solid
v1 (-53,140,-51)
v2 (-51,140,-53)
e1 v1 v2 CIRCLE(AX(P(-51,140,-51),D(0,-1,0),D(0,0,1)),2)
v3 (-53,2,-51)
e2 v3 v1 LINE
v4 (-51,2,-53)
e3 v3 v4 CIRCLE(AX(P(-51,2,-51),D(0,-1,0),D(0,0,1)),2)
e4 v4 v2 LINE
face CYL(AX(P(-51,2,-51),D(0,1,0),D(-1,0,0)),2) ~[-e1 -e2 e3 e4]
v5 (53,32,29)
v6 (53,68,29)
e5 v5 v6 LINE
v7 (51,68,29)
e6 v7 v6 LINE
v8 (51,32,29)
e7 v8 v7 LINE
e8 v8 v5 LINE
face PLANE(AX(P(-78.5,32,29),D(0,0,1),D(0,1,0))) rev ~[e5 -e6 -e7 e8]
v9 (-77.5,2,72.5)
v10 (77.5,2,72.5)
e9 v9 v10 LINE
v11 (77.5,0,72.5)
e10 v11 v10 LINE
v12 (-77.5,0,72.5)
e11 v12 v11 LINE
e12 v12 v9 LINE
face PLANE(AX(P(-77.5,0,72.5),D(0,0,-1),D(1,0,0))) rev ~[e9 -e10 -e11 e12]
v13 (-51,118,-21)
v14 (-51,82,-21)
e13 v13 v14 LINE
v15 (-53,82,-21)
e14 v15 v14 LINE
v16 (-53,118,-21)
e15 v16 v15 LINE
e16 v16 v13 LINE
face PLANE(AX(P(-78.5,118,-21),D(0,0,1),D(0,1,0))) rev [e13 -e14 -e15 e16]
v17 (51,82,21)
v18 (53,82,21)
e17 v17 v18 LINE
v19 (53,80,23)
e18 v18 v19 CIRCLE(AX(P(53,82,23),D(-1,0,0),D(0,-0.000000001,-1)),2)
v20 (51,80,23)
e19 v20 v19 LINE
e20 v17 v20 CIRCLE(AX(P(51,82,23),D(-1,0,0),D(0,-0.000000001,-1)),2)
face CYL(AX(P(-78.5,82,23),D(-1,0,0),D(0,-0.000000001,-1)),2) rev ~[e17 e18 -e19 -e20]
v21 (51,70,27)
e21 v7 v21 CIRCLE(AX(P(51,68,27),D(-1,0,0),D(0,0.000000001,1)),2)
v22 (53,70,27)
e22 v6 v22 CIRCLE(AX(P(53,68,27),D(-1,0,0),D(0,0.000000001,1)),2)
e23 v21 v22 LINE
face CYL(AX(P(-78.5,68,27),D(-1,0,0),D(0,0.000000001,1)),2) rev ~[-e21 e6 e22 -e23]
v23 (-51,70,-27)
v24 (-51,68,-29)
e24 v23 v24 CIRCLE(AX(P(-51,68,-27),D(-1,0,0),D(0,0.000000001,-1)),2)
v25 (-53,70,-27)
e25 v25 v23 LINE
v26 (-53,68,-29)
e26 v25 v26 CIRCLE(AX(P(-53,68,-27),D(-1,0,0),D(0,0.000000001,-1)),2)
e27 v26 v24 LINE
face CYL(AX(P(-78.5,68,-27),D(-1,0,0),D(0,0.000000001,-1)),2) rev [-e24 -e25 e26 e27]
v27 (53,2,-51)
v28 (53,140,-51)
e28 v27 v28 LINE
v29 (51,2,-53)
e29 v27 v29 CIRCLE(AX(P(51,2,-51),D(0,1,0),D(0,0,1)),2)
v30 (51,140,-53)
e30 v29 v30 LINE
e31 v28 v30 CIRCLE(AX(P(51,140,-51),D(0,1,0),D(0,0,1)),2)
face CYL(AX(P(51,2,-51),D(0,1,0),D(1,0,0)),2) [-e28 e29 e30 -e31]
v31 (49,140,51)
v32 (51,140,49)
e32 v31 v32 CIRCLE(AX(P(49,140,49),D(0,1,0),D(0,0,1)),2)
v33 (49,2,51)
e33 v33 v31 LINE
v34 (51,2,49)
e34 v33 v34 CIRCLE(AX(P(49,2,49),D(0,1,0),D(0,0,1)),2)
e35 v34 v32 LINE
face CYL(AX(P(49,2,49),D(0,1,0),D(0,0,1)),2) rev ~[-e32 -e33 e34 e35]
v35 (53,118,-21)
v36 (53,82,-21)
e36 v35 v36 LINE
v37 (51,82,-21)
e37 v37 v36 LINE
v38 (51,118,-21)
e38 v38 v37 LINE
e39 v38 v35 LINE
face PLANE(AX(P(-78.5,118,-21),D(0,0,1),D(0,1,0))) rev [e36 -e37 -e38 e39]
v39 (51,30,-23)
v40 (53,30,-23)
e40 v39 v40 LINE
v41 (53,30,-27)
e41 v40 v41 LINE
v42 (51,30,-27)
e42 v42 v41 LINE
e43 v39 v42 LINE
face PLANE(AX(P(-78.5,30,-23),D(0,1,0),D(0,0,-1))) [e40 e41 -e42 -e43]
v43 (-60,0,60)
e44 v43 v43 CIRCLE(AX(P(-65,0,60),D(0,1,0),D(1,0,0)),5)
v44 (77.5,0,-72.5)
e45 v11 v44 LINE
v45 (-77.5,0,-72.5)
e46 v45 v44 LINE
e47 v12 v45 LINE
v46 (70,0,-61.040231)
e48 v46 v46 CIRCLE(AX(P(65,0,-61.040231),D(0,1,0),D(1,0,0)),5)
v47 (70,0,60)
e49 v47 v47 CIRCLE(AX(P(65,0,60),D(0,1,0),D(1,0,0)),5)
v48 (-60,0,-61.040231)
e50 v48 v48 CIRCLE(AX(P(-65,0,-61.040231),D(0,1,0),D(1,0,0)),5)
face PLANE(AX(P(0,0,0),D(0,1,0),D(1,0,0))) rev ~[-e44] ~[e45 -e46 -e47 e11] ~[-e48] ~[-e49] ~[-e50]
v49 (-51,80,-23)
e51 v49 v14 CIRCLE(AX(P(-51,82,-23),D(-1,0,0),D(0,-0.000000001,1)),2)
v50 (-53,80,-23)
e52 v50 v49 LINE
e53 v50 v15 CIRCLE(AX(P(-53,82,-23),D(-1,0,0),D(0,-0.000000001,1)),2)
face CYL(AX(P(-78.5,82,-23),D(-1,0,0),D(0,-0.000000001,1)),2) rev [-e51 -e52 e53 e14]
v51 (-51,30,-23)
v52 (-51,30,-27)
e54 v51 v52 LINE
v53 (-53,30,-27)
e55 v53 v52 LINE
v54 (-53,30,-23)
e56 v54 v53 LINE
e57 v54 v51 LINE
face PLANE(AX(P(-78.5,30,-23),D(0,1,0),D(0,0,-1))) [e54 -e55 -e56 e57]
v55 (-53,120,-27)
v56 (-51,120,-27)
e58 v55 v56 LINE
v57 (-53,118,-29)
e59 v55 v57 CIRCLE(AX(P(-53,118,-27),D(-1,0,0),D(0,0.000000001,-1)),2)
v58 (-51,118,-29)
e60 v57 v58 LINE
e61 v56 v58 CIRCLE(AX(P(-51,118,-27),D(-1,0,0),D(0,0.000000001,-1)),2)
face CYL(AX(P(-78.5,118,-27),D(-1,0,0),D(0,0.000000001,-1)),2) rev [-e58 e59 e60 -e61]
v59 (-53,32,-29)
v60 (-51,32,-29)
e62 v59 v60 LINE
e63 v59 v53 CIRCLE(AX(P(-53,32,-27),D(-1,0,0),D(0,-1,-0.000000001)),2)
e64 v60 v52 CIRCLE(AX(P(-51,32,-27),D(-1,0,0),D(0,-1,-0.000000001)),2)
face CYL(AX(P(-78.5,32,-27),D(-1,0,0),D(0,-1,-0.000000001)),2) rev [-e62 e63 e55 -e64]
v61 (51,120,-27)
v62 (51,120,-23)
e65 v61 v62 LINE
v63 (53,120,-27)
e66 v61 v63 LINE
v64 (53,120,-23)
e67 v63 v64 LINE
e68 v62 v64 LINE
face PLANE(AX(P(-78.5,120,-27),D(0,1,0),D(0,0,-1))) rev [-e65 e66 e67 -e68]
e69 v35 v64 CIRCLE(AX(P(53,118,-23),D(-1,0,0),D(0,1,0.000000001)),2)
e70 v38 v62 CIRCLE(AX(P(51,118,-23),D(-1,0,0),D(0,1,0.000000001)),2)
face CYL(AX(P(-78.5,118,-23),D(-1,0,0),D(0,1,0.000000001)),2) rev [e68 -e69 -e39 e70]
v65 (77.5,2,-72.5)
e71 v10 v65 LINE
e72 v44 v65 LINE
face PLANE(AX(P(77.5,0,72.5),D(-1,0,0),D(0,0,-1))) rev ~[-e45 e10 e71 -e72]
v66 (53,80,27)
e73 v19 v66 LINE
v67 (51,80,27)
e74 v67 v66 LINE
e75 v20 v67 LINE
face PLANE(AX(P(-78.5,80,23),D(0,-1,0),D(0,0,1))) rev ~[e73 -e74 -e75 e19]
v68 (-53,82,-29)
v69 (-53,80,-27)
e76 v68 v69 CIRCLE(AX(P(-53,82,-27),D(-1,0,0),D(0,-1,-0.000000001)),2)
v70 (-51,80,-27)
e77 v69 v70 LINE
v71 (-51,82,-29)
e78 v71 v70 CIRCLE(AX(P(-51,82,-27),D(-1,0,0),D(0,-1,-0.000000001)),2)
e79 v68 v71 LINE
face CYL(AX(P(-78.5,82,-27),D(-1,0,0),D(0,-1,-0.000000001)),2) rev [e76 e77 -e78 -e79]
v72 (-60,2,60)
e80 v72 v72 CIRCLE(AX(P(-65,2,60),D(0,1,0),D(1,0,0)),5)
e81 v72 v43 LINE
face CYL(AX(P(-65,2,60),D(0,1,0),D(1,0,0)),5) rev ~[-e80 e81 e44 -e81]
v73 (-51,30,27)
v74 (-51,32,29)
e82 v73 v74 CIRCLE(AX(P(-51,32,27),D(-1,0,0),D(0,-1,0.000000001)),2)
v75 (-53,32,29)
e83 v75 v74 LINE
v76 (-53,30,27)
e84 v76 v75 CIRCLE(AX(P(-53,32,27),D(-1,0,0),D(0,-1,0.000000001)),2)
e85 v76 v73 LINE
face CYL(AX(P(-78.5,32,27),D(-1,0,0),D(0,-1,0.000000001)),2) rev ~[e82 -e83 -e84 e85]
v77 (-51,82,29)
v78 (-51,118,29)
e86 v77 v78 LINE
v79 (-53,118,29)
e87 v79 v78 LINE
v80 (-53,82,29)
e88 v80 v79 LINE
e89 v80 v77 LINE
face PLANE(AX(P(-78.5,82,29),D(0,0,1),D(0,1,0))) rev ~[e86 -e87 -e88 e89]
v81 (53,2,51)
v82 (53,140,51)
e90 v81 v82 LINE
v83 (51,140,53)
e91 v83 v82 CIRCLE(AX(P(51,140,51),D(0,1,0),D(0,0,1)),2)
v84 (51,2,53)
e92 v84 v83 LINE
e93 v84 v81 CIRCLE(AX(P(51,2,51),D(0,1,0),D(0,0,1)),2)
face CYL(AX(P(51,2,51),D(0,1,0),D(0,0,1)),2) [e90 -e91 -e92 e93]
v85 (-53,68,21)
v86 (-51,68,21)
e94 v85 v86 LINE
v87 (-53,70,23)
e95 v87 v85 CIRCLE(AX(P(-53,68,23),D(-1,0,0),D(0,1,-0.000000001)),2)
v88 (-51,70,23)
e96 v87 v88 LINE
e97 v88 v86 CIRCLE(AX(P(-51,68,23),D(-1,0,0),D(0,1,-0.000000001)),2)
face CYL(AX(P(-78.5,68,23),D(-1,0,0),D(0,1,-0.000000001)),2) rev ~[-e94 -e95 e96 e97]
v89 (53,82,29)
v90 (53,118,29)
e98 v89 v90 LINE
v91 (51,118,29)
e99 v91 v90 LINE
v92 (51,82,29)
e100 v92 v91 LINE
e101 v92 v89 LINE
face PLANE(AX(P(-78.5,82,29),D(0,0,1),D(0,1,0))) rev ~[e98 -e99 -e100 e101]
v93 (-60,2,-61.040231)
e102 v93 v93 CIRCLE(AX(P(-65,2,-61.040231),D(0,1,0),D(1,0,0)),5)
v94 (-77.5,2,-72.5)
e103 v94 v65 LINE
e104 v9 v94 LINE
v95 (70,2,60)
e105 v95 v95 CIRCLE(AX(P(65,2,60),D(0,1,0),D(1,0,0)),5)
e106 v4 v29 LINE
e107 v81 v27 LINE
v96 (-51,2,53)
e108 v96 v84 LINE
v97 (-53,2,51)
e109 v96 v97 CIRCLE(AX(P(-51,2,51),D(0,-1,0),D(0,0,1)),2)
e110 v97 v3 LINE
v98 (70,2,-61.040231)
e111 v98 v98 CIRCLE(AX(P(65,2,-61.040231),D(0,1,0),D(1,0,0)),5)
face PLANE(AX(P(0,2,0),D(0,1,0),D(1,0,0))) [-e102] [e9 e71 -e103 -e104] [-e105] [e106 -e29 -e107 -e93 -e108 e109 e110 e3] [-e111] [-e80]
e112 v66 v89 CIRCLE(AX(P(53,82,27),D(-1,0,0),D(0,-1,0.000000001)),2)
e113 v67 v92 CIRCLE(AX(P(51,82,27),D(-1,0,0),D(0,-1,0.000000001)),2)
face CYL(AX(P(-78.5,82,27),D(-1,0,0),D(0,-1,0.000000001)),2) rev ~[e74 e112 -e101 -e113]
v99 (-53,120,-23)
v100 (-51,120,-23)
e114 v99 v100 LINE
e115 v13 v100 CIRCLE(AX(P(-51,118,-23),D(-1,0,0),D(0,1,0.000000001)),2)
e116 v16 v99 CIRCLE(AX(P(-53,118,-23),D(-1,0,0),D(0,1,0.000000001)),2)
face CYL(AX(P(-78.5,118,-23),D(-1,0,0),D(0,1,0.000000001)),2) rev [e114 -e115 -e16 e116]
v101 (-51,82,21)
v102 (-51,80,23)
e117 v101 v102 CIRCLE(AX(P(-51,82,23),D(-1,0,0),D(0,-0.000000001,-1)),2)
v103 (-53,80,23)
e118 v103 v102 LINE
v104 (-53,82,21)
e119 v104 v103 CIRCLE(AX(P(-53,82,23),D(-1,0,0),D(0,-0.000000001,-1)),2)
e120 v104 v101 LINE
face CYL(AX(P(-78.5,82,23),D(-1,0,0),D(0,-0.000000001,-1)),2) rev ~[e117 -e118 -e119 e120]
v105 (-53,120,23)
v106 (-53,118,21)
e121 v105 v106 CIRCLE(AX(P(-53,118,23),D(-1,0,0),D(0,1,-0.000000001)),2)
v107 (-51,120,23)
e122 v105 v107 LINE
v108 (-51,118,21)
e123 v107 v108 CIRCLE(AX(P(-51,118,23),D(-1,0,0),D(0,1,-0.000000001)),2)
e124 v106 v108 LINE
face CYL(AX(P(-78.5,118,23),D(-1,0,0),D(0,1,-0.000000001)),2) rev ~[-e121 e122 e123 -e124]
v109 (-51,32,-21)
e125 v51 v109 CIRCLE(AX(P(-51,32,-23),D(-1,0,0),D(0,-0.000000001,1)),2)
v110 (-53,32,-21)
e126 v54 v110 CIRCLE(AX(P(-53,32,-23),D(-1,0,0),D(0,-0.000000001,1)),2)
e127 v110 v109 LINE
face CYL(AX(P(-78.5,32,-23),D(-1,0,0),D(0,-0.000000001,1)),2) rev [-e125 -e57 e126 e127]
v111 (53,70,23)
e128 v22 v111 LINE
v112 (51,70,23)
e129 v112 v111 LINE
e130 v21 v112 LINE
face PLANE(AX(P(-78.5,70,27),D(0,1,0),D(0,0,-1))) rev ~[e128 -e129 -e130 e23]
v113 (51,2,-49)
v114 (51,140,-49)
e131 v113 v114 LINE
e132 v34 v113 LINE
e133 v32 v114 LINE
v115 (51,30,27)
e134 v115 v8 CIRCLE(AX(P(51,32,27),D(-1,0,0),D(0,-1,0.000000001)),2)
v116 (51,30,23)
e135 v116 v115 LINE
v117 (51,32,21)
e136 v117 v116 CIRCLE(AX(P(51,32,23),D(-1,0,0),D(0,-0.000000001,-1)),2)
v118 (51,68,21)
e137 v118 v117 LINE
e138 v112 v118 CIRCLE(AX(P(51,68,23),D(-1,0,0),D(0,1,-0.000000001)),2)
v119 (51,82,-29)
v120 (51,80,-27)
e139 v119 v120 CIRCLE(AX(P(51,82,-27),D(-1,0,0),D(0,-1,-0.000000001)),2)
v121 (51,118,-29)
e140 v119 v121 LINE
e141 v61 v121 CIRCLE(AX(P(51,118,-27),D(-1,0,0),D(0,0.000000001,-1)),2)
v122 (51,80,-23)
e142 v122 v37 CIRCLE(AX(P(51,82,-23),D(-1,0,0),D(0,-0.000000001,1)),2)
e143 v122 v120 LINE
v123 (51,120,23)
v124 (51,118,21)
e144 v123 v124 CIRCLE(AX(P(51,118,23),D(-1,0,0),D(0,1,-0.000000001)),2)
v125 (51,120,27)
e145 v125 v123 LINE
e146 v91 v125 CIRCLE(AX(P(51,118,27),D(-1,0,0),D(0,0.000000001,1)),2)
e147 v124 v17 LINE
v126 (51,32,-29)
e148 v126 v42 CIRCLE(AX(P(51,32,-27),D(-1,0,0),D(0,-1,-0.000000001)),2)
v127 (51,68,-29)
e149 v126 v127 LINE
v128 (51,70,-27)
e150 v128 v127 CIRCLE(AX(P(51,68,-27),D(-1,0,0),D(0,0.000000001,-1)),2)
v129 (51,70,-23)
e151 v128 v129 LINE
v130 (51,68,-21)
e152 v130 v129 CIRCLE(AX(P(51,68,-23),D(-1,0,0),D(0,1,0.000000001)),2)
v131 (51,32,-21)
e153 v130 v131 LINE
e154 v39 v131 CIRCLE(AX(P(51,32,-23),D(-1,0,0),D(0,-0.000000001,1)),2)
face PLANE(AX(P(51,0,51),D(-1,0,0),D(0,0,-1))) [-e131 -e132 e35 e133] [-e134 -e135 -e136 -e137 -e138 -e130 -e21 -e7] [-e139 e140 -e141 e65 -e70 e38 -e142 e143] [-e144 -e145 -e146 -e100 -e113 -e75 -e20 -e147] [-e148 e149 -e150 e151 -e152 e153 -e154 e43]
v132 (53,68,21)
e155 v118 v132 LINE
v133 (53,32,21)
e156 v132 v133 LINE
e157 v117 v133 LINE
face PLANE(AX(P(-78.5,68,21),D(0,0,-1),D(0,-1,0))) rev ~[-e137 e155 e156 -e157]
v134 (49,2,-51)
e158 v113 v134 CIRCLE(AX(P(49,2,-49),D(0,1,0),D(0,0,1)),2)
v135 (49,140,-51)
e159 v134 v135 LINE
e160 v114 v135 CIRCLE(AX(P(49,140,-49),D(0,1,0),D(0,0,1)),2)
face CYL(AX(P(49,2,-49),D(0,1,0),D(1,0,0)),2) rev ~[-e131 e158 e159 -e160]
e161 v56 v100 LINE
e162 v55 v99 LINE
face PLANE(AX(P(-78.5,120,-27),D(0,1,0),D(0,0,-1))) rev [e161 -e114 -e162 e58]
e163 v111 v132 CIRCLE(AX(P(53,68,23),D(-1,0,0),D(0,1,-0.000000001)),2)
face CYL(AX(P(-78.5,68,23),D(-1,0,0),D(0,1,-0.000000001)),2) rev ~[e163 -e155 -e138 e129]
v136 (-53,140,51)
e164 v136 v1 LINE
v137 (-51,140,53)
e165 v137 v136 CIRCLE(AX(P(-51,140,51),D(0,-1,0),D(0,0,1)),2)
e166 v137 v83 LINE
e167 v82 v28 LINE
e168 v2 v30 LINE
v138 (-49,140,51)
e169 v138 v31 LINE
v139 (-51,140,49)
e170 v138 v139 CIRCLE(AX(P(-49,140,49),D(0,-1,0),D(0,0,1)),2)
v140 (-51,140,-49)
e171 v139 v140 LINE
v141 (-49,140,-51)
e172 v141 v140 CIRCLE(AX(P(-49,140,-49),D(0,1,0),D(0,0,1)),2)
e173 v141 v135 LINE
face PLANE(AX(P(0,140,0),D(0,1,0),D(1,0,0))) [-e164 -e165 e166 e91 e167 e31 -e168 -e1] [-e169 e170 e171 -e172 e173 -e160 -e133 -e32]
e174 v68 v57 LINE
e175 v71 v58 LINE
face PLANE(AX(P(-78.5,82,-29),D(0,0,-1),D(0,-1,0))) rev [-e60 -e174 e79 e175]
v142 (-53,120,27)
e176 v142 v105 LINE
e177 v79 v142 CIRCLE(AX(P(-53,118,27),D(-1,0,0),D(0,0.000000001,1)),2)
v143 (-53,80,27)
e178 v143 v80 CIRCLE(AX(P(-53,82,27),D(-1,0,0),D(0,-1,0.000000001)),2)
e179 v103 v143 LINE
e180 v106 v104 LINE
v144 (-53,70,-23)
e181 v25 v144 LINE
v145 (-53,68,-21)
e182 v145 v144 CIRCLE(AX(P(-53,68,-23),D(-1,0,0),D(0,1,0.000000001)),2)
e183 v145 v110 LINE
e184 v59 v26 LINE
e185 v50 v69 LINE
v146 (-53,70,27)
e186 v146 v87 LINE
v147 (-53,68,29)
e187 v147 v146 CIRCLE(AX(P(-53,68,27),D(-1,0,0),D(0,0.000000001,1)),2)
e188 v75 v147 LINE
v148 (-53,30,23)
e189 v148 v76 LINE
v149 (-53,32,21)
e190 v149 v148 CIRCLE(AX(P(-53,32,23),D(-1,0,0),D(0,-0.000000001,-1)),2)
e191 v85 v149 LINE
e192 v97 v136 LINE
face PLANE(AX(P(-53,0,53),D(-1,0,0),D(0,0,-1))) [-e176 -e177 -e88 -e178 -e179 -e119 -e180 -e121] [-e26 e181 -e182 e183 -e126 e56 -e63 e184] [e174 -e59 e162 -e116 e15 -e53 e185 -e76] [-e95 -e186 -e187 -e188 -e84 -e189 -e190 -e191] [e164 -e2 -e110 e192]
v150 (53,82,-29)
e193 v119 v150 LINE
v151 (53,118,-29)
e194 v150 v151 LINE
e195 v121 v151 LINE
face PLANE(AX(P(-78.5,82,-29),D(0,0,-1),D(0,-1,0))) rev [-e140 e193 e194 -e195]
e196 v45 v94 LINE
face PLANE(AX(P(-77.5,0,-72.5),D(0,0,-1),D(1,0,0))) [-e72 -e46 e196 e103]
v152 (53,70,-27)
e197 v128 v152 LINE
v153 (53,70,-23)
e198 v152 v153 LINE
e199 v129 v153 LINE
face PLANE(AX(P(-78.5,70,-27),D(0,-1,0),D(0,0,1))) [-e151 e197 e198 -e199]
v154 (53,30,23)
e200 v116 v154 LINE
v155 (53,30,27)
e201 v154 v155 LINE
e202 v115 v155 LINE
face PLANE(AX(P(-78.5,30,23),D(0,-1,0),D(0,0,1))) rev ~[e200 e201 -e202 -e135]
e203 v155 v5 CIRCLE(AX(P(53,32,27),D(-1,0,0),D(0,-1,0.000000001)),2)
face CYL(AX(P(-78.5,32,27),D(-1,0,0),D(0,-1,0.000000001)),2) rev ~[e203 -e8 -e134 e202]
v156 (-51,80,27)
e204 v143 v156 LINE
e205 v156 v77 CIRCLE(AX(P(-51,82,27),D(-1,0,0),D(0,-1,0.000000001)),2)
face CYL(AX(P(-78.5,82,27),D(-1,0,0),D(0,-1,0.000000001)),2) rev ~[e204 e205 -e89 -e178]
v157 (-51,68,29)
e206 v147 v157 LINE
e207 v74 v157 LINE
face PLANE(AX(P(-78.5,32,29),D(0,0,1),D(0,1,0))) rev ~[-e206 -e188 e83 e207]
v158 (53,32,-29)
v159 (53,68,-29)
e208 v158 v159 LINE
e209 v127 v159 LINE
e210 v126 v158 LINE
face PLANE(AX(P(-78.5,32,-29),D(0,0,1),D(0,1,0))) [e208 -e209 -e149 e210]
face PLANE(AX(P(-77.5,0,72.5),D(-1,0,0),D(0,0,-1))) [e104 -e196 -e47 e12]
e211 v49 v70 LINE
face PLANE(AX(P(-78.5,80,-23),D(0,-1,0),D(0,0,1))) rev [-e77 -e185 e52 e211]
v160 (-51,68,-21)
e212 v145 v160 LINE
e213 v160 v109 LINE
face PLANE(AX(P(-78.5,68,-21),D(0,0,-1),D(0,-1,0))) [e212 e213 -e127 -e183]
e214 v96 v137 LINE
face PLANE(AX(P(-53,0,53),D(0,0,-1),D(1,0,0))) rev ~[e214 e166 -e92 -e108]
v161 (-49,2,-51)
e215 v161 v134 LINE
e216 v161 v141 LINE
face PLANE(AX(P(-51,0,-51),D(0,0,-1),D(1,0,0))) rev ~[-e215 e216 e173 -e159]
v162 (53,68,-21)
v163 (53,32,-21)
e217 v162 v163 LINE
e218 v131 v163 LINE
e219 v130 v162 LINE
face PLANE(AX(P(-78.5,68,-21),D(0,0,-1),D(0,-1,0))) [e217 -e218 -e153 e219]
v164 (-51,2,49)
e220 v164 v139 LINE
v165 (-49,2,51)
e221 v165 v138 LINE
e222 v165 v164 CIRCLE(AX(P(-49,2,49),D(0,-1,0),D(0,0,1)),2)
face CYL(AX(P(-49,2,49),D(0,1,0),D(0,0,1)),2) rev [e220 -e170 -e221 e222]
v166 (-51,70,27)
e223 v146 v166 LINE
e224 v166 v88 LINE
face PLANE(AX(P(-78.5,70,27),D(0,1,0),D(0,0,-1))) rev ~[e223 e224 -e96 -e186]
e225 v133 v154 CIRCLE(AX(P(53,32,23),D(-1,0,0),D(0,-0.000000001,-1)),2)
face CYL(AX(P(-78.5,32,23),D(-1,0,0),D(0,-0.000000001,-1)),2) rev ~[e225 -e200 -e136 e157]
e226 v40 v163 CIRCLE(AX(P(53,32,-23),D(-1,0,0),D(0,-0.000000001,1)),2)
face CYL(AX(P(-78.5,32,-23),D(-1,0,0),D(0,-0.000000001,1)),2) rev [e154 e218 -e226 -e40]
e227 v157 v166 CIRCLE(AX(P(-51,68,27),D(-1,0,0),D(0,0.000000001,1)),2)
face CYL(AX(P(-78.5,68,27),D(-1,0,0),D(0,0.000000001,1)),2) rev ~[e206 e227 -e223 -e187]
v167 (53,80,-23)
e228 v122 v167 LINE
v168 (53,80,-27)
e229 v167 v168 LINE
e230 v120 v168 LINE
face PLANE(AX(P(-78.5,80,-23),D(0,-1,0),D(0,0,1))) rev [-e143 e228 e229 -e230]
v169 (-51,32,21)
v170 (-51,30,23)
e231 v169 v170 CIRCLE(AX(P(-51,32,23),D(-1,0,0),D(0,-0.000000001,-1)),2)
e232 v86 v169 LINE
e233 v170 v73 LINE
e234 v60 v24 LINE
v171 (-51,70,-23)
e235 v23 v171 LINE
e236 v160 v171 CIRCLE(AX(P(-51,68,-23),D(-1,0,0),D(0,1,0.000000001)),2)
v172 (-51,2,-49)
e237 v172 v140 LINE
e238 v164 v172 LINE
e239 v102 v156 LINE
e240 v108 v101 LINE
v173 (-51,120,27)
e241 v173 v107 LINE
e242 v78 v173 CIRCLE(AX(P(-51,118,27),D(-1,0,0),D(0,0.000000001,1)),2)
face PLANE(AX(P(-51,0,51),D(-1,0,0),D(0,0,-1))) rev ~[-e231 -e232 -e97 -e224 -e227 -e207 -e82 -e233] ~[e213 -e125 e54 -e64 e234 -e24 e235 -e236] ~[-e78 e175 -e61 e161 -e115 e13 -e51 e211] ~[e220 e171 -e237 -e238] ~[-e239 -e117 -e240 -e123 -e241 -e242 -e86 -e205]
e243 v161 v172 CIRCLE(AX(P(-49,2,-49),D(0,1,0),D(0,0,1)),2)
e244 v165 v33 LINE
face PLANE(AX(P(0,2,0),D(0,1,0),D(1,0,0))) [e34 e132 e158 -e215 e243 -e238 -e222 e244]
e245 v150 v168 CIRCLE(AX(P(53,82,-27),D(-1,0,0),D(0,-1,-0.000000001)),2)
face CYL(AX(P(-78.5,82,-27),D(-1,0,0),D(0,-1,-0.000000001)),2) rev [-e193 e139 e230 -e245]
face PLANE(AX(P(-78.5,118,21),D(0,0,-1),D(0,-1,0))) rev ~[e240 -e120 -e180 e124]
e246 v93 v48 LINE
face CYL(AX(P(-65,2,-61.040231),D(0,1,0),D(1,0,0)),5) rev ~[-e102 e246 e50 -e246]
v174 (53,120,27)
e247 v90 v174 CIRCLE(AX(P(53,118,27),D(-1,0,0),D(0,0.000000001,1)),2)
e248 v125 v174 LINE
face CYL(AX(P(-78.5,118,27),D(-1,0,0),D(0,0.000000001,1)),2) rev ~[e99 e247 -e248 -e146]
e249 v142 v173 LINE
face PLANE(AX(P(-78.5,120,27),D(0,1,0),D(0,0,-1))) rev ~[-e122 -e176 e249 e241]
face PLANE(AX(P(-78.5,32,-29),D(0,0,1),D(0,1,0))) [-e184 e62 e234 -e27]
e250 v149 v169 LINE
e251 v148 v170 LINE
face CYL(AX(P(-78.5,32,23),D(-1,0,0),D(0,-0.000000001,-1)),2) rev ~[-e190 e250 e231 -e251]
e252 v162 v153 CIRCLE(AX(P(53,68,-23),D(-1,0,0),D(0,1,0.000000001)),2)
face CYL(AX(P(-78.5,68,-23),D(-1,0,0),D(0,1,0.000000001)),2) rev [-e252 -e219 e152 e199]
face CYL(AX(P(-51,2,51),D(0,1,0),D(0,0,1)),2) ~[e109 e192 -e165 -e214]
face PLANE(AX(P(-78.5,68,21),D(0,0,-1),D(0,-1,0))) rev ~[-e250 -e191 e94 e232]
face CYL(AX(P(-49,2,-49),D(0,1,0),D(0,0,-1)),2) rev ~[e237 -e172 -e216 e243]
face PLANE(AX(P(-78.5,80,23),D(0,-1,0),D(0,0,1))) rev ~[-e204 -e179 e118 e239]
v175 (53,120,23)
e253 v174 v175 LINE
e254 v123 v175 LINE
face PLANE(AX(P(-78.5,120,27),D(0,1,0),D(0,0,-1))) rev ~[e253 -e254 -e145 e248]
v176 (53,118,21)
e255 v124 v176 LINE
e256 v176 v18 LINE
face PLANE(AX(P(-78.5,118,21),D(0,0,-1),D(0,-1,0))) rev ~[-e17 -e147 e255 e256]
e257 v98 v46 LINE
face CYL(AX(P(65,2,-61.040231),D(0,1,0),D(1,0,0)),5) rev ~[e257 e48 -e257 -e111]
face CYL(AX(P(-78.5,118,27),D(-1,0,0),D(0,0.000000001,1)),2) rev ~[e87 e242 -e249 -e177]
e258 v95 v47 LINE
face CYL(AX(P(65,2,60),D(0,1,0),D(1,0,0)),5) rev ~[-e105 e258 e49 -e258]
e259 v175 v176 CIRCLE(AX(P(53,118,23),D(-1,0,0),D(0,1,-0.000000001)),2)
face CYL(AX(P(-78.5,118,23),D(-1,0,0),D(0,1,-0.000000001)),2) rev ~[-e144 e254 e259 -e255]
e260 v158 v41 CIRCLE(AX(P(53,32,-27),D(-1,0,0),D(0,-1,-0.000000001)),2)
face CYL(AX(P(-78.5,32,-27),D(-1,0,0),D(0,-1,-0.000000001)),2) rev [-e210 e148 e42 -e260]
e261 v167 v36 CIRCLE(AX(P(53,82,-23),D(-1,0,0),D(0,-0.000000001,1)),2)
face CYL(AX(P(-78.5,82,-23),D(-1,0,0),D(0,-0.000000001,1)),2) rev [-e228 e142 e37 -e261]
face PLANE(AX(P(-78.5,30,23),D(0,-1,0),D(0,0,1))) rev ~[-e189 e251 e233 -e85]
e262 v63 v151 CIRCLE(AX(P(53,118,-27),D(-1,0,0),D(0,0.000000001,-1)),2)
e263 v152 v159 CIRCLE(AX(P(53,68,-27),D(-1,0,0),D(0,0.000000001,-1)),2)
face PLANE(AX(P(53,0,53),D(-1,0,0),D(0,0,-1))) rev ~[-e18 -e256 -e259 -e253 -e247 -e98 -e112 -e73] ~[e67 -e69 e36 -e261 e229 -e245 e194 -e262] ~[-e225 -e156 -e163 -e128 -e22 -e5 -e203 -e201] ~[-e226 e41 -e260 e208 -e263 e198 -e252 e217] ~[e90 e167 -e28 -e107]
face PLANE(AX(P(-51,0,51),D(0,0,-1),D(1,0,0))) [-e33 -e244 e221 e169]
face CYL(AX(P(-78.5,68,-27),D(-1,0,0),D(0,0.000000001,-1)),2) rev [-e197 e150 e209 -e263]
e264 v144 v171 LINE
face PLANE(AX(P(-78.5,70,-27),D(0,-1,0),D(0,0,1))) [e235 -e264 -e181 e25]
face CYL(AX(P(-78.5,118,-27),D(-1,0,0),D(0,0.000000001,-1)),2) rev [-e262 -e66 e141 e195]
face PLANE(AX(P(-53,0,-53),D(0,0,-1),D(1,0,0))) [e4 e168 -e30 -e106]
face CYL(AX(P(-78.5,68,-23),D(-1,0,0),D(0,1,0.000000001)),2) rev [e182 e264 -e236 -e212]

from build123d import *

# Parameters (mm, degrees)
SKETCH1_W              = 106
SKETCH1_H              = 106
SKETCH1_W_2            = 102
SKETCH1_H_2            = 102
BOSS_EXTRUDE1_DEPTH    = 140
SKETCH2_W              = 155
SKETCH2_H              = 145
BOSS_EXTRUDE2_DEPTH    = 2
SKETCH3_R              = 5
CUT_EXTRUDE1_DEPTH     = 2
CUT_EXTRUDE2_START     = -131.5
CUT_EXTRUDE2_DEPTH     = 157
LPATTERN1_COUNT        = 2
LPATTERN1_PITCH        = 50
LPATTERN1_START        = -131.5
LPATTERN1_COPY_1_DEPTH = 157
FILLET1_R              = 2


with BuildPart() as part:
    # Sketch1 → Boss-Extrude1 (new body)
    with BuildSketch(Plane(origin=(0, 0, 0), x_dir=(1, 0, 0), z_dir=(0, 1, 0))):
        Rectangle(SKETCH1_W, SKETCH1_H)
        Rectangle(SKETCH1_W_2, SKETCH1_H_2, mode=Mode.SUBTRACT)
    extrude(amount=BOSS_EXTRUDE1_DEPTH)

    # Sketch2 → Boss-Extrude2 (add)
    with BuildSketch(Plane(origin=(0, 0, 0), x_dir=(1, 0, 0), z_dir=(0, 1, 0))):
        Rectangle(SKETCH2_W, SKETCH2_H)
    extrude(amount=BOSS_EXTRUDE2_DEPTH)

    # Sketch3 → Cut-Extrude1 (cut)
    with BuildSketch(Plane(origin=(0, 2, 0), x_dir=(1, 0, 0), z_dir=(0, 1, 0))):
        with Locations((-65, 61.040230774)):
            Circle(SKETCH3_R)
        with Locations((65, 61.040230774)):
            Circle(SKETCH3_R)
        with Locations((65, -60)):
            Circle(SKETCH3_R)
        with Locations((-65, -60)):
            Circle(SKETCH3_R)
    extrude(amount=-CUT_EXTRUDE1_DEPTH, mode=Mode.SUBTRACT)

    # Sketch4 → Cut-Extrude2 (cut)
    with BuildSketch(Plane(origin=(53, 0, 0), x_dir=(0, 0, -1), z_dir=(1, 0, 0)).offset(CUT_EXTRUDE2_START)):
        with BuildLine():
            Line((-23, 80), (-27, 80))
            ThreePointArc((-27, 80), (-28.414213562, 80.585786438), (-29, 82))
            Line((-29, 82), (-29, 118))
            ThreePointArc((-29, 118), (-28.414213562, 119.414213562), (-27, 120))
            Line((-27, 120), (-23, 120))
            ThreePointArc((-23, 120), (-21.585786438, 119.414213562), (-21, 118))
            Line((-21, 118), (-21, 82))
            ThreePointArc((-21, 82), (-21.585786438, 80.585786438), (-23, 80))
        make_face()
    cut_extrude2 = extrude(amount=CUT_EXTRUDE2_DEPTH, mode=Mode.SUBTRACT)

    # Mirror1: Cut-Extrude2 across plane
    add(cut_extrude2.mirror(Plane.XY), mode=Mode.SUBTRACT)

    # LPattern1: Cut-Extrude2 ×2
    with Locations(*[(0, -i * LPATTERN1_PITCH, 0) for i in range(1, LPATTERN1_COUNT)]):
        add(cut_extrude2, mode=Mode.SUBTRACT)

    # LPattern1 copy 1 sketch → LPattern1 copy 1 (cut)
    with BuildSketch(Plane(origin=(53, -50, 0), x_dir=(0, 0, 1), z_dir=(1, 0, 0)).offset(LPATTERN1_START)):
        with BuildLine():
            Line((-23, -80), (-27, -80))
            ThreePointArc((-27, -80), (-28.414213562, -80.585786438), (-29, -82))
            Line((-29, -82), (-29, -118))
            ThreePointArc((-29, -118), (-28.414213562, -119.414213562), (-27, -120))
            Line((-27, -120), (-23, -120))
            ThreePointArc((-23, -120), (-21.585786438, -119.414213562), (-21, -118))
            Line((-21, -118), (-21, -82))
            ThreePointArc((-21, -82), (-21.585786438, -80.585786438), (-23, -80))
        make_face()
    extrude(amount=LPATTERN1_COPY_1_DEPTH, mode=Mode.SUBTRACT)

    # Fillet1
    fillet1_edges = [part.edges().sort_by_distance(p)[0] for p in [
        (-51, 71, -51),
        (-51, 71, 51),
        (51, 71, 51),
        (51, 71, -51),
        (-53, 71, -53),
        (53, 71, -53),
        (53, 71, 53),
        (-53, 71, 53),
    ]]
    fillet(fillet1_edges, radius=FILLET1_R)


solid = part.part
